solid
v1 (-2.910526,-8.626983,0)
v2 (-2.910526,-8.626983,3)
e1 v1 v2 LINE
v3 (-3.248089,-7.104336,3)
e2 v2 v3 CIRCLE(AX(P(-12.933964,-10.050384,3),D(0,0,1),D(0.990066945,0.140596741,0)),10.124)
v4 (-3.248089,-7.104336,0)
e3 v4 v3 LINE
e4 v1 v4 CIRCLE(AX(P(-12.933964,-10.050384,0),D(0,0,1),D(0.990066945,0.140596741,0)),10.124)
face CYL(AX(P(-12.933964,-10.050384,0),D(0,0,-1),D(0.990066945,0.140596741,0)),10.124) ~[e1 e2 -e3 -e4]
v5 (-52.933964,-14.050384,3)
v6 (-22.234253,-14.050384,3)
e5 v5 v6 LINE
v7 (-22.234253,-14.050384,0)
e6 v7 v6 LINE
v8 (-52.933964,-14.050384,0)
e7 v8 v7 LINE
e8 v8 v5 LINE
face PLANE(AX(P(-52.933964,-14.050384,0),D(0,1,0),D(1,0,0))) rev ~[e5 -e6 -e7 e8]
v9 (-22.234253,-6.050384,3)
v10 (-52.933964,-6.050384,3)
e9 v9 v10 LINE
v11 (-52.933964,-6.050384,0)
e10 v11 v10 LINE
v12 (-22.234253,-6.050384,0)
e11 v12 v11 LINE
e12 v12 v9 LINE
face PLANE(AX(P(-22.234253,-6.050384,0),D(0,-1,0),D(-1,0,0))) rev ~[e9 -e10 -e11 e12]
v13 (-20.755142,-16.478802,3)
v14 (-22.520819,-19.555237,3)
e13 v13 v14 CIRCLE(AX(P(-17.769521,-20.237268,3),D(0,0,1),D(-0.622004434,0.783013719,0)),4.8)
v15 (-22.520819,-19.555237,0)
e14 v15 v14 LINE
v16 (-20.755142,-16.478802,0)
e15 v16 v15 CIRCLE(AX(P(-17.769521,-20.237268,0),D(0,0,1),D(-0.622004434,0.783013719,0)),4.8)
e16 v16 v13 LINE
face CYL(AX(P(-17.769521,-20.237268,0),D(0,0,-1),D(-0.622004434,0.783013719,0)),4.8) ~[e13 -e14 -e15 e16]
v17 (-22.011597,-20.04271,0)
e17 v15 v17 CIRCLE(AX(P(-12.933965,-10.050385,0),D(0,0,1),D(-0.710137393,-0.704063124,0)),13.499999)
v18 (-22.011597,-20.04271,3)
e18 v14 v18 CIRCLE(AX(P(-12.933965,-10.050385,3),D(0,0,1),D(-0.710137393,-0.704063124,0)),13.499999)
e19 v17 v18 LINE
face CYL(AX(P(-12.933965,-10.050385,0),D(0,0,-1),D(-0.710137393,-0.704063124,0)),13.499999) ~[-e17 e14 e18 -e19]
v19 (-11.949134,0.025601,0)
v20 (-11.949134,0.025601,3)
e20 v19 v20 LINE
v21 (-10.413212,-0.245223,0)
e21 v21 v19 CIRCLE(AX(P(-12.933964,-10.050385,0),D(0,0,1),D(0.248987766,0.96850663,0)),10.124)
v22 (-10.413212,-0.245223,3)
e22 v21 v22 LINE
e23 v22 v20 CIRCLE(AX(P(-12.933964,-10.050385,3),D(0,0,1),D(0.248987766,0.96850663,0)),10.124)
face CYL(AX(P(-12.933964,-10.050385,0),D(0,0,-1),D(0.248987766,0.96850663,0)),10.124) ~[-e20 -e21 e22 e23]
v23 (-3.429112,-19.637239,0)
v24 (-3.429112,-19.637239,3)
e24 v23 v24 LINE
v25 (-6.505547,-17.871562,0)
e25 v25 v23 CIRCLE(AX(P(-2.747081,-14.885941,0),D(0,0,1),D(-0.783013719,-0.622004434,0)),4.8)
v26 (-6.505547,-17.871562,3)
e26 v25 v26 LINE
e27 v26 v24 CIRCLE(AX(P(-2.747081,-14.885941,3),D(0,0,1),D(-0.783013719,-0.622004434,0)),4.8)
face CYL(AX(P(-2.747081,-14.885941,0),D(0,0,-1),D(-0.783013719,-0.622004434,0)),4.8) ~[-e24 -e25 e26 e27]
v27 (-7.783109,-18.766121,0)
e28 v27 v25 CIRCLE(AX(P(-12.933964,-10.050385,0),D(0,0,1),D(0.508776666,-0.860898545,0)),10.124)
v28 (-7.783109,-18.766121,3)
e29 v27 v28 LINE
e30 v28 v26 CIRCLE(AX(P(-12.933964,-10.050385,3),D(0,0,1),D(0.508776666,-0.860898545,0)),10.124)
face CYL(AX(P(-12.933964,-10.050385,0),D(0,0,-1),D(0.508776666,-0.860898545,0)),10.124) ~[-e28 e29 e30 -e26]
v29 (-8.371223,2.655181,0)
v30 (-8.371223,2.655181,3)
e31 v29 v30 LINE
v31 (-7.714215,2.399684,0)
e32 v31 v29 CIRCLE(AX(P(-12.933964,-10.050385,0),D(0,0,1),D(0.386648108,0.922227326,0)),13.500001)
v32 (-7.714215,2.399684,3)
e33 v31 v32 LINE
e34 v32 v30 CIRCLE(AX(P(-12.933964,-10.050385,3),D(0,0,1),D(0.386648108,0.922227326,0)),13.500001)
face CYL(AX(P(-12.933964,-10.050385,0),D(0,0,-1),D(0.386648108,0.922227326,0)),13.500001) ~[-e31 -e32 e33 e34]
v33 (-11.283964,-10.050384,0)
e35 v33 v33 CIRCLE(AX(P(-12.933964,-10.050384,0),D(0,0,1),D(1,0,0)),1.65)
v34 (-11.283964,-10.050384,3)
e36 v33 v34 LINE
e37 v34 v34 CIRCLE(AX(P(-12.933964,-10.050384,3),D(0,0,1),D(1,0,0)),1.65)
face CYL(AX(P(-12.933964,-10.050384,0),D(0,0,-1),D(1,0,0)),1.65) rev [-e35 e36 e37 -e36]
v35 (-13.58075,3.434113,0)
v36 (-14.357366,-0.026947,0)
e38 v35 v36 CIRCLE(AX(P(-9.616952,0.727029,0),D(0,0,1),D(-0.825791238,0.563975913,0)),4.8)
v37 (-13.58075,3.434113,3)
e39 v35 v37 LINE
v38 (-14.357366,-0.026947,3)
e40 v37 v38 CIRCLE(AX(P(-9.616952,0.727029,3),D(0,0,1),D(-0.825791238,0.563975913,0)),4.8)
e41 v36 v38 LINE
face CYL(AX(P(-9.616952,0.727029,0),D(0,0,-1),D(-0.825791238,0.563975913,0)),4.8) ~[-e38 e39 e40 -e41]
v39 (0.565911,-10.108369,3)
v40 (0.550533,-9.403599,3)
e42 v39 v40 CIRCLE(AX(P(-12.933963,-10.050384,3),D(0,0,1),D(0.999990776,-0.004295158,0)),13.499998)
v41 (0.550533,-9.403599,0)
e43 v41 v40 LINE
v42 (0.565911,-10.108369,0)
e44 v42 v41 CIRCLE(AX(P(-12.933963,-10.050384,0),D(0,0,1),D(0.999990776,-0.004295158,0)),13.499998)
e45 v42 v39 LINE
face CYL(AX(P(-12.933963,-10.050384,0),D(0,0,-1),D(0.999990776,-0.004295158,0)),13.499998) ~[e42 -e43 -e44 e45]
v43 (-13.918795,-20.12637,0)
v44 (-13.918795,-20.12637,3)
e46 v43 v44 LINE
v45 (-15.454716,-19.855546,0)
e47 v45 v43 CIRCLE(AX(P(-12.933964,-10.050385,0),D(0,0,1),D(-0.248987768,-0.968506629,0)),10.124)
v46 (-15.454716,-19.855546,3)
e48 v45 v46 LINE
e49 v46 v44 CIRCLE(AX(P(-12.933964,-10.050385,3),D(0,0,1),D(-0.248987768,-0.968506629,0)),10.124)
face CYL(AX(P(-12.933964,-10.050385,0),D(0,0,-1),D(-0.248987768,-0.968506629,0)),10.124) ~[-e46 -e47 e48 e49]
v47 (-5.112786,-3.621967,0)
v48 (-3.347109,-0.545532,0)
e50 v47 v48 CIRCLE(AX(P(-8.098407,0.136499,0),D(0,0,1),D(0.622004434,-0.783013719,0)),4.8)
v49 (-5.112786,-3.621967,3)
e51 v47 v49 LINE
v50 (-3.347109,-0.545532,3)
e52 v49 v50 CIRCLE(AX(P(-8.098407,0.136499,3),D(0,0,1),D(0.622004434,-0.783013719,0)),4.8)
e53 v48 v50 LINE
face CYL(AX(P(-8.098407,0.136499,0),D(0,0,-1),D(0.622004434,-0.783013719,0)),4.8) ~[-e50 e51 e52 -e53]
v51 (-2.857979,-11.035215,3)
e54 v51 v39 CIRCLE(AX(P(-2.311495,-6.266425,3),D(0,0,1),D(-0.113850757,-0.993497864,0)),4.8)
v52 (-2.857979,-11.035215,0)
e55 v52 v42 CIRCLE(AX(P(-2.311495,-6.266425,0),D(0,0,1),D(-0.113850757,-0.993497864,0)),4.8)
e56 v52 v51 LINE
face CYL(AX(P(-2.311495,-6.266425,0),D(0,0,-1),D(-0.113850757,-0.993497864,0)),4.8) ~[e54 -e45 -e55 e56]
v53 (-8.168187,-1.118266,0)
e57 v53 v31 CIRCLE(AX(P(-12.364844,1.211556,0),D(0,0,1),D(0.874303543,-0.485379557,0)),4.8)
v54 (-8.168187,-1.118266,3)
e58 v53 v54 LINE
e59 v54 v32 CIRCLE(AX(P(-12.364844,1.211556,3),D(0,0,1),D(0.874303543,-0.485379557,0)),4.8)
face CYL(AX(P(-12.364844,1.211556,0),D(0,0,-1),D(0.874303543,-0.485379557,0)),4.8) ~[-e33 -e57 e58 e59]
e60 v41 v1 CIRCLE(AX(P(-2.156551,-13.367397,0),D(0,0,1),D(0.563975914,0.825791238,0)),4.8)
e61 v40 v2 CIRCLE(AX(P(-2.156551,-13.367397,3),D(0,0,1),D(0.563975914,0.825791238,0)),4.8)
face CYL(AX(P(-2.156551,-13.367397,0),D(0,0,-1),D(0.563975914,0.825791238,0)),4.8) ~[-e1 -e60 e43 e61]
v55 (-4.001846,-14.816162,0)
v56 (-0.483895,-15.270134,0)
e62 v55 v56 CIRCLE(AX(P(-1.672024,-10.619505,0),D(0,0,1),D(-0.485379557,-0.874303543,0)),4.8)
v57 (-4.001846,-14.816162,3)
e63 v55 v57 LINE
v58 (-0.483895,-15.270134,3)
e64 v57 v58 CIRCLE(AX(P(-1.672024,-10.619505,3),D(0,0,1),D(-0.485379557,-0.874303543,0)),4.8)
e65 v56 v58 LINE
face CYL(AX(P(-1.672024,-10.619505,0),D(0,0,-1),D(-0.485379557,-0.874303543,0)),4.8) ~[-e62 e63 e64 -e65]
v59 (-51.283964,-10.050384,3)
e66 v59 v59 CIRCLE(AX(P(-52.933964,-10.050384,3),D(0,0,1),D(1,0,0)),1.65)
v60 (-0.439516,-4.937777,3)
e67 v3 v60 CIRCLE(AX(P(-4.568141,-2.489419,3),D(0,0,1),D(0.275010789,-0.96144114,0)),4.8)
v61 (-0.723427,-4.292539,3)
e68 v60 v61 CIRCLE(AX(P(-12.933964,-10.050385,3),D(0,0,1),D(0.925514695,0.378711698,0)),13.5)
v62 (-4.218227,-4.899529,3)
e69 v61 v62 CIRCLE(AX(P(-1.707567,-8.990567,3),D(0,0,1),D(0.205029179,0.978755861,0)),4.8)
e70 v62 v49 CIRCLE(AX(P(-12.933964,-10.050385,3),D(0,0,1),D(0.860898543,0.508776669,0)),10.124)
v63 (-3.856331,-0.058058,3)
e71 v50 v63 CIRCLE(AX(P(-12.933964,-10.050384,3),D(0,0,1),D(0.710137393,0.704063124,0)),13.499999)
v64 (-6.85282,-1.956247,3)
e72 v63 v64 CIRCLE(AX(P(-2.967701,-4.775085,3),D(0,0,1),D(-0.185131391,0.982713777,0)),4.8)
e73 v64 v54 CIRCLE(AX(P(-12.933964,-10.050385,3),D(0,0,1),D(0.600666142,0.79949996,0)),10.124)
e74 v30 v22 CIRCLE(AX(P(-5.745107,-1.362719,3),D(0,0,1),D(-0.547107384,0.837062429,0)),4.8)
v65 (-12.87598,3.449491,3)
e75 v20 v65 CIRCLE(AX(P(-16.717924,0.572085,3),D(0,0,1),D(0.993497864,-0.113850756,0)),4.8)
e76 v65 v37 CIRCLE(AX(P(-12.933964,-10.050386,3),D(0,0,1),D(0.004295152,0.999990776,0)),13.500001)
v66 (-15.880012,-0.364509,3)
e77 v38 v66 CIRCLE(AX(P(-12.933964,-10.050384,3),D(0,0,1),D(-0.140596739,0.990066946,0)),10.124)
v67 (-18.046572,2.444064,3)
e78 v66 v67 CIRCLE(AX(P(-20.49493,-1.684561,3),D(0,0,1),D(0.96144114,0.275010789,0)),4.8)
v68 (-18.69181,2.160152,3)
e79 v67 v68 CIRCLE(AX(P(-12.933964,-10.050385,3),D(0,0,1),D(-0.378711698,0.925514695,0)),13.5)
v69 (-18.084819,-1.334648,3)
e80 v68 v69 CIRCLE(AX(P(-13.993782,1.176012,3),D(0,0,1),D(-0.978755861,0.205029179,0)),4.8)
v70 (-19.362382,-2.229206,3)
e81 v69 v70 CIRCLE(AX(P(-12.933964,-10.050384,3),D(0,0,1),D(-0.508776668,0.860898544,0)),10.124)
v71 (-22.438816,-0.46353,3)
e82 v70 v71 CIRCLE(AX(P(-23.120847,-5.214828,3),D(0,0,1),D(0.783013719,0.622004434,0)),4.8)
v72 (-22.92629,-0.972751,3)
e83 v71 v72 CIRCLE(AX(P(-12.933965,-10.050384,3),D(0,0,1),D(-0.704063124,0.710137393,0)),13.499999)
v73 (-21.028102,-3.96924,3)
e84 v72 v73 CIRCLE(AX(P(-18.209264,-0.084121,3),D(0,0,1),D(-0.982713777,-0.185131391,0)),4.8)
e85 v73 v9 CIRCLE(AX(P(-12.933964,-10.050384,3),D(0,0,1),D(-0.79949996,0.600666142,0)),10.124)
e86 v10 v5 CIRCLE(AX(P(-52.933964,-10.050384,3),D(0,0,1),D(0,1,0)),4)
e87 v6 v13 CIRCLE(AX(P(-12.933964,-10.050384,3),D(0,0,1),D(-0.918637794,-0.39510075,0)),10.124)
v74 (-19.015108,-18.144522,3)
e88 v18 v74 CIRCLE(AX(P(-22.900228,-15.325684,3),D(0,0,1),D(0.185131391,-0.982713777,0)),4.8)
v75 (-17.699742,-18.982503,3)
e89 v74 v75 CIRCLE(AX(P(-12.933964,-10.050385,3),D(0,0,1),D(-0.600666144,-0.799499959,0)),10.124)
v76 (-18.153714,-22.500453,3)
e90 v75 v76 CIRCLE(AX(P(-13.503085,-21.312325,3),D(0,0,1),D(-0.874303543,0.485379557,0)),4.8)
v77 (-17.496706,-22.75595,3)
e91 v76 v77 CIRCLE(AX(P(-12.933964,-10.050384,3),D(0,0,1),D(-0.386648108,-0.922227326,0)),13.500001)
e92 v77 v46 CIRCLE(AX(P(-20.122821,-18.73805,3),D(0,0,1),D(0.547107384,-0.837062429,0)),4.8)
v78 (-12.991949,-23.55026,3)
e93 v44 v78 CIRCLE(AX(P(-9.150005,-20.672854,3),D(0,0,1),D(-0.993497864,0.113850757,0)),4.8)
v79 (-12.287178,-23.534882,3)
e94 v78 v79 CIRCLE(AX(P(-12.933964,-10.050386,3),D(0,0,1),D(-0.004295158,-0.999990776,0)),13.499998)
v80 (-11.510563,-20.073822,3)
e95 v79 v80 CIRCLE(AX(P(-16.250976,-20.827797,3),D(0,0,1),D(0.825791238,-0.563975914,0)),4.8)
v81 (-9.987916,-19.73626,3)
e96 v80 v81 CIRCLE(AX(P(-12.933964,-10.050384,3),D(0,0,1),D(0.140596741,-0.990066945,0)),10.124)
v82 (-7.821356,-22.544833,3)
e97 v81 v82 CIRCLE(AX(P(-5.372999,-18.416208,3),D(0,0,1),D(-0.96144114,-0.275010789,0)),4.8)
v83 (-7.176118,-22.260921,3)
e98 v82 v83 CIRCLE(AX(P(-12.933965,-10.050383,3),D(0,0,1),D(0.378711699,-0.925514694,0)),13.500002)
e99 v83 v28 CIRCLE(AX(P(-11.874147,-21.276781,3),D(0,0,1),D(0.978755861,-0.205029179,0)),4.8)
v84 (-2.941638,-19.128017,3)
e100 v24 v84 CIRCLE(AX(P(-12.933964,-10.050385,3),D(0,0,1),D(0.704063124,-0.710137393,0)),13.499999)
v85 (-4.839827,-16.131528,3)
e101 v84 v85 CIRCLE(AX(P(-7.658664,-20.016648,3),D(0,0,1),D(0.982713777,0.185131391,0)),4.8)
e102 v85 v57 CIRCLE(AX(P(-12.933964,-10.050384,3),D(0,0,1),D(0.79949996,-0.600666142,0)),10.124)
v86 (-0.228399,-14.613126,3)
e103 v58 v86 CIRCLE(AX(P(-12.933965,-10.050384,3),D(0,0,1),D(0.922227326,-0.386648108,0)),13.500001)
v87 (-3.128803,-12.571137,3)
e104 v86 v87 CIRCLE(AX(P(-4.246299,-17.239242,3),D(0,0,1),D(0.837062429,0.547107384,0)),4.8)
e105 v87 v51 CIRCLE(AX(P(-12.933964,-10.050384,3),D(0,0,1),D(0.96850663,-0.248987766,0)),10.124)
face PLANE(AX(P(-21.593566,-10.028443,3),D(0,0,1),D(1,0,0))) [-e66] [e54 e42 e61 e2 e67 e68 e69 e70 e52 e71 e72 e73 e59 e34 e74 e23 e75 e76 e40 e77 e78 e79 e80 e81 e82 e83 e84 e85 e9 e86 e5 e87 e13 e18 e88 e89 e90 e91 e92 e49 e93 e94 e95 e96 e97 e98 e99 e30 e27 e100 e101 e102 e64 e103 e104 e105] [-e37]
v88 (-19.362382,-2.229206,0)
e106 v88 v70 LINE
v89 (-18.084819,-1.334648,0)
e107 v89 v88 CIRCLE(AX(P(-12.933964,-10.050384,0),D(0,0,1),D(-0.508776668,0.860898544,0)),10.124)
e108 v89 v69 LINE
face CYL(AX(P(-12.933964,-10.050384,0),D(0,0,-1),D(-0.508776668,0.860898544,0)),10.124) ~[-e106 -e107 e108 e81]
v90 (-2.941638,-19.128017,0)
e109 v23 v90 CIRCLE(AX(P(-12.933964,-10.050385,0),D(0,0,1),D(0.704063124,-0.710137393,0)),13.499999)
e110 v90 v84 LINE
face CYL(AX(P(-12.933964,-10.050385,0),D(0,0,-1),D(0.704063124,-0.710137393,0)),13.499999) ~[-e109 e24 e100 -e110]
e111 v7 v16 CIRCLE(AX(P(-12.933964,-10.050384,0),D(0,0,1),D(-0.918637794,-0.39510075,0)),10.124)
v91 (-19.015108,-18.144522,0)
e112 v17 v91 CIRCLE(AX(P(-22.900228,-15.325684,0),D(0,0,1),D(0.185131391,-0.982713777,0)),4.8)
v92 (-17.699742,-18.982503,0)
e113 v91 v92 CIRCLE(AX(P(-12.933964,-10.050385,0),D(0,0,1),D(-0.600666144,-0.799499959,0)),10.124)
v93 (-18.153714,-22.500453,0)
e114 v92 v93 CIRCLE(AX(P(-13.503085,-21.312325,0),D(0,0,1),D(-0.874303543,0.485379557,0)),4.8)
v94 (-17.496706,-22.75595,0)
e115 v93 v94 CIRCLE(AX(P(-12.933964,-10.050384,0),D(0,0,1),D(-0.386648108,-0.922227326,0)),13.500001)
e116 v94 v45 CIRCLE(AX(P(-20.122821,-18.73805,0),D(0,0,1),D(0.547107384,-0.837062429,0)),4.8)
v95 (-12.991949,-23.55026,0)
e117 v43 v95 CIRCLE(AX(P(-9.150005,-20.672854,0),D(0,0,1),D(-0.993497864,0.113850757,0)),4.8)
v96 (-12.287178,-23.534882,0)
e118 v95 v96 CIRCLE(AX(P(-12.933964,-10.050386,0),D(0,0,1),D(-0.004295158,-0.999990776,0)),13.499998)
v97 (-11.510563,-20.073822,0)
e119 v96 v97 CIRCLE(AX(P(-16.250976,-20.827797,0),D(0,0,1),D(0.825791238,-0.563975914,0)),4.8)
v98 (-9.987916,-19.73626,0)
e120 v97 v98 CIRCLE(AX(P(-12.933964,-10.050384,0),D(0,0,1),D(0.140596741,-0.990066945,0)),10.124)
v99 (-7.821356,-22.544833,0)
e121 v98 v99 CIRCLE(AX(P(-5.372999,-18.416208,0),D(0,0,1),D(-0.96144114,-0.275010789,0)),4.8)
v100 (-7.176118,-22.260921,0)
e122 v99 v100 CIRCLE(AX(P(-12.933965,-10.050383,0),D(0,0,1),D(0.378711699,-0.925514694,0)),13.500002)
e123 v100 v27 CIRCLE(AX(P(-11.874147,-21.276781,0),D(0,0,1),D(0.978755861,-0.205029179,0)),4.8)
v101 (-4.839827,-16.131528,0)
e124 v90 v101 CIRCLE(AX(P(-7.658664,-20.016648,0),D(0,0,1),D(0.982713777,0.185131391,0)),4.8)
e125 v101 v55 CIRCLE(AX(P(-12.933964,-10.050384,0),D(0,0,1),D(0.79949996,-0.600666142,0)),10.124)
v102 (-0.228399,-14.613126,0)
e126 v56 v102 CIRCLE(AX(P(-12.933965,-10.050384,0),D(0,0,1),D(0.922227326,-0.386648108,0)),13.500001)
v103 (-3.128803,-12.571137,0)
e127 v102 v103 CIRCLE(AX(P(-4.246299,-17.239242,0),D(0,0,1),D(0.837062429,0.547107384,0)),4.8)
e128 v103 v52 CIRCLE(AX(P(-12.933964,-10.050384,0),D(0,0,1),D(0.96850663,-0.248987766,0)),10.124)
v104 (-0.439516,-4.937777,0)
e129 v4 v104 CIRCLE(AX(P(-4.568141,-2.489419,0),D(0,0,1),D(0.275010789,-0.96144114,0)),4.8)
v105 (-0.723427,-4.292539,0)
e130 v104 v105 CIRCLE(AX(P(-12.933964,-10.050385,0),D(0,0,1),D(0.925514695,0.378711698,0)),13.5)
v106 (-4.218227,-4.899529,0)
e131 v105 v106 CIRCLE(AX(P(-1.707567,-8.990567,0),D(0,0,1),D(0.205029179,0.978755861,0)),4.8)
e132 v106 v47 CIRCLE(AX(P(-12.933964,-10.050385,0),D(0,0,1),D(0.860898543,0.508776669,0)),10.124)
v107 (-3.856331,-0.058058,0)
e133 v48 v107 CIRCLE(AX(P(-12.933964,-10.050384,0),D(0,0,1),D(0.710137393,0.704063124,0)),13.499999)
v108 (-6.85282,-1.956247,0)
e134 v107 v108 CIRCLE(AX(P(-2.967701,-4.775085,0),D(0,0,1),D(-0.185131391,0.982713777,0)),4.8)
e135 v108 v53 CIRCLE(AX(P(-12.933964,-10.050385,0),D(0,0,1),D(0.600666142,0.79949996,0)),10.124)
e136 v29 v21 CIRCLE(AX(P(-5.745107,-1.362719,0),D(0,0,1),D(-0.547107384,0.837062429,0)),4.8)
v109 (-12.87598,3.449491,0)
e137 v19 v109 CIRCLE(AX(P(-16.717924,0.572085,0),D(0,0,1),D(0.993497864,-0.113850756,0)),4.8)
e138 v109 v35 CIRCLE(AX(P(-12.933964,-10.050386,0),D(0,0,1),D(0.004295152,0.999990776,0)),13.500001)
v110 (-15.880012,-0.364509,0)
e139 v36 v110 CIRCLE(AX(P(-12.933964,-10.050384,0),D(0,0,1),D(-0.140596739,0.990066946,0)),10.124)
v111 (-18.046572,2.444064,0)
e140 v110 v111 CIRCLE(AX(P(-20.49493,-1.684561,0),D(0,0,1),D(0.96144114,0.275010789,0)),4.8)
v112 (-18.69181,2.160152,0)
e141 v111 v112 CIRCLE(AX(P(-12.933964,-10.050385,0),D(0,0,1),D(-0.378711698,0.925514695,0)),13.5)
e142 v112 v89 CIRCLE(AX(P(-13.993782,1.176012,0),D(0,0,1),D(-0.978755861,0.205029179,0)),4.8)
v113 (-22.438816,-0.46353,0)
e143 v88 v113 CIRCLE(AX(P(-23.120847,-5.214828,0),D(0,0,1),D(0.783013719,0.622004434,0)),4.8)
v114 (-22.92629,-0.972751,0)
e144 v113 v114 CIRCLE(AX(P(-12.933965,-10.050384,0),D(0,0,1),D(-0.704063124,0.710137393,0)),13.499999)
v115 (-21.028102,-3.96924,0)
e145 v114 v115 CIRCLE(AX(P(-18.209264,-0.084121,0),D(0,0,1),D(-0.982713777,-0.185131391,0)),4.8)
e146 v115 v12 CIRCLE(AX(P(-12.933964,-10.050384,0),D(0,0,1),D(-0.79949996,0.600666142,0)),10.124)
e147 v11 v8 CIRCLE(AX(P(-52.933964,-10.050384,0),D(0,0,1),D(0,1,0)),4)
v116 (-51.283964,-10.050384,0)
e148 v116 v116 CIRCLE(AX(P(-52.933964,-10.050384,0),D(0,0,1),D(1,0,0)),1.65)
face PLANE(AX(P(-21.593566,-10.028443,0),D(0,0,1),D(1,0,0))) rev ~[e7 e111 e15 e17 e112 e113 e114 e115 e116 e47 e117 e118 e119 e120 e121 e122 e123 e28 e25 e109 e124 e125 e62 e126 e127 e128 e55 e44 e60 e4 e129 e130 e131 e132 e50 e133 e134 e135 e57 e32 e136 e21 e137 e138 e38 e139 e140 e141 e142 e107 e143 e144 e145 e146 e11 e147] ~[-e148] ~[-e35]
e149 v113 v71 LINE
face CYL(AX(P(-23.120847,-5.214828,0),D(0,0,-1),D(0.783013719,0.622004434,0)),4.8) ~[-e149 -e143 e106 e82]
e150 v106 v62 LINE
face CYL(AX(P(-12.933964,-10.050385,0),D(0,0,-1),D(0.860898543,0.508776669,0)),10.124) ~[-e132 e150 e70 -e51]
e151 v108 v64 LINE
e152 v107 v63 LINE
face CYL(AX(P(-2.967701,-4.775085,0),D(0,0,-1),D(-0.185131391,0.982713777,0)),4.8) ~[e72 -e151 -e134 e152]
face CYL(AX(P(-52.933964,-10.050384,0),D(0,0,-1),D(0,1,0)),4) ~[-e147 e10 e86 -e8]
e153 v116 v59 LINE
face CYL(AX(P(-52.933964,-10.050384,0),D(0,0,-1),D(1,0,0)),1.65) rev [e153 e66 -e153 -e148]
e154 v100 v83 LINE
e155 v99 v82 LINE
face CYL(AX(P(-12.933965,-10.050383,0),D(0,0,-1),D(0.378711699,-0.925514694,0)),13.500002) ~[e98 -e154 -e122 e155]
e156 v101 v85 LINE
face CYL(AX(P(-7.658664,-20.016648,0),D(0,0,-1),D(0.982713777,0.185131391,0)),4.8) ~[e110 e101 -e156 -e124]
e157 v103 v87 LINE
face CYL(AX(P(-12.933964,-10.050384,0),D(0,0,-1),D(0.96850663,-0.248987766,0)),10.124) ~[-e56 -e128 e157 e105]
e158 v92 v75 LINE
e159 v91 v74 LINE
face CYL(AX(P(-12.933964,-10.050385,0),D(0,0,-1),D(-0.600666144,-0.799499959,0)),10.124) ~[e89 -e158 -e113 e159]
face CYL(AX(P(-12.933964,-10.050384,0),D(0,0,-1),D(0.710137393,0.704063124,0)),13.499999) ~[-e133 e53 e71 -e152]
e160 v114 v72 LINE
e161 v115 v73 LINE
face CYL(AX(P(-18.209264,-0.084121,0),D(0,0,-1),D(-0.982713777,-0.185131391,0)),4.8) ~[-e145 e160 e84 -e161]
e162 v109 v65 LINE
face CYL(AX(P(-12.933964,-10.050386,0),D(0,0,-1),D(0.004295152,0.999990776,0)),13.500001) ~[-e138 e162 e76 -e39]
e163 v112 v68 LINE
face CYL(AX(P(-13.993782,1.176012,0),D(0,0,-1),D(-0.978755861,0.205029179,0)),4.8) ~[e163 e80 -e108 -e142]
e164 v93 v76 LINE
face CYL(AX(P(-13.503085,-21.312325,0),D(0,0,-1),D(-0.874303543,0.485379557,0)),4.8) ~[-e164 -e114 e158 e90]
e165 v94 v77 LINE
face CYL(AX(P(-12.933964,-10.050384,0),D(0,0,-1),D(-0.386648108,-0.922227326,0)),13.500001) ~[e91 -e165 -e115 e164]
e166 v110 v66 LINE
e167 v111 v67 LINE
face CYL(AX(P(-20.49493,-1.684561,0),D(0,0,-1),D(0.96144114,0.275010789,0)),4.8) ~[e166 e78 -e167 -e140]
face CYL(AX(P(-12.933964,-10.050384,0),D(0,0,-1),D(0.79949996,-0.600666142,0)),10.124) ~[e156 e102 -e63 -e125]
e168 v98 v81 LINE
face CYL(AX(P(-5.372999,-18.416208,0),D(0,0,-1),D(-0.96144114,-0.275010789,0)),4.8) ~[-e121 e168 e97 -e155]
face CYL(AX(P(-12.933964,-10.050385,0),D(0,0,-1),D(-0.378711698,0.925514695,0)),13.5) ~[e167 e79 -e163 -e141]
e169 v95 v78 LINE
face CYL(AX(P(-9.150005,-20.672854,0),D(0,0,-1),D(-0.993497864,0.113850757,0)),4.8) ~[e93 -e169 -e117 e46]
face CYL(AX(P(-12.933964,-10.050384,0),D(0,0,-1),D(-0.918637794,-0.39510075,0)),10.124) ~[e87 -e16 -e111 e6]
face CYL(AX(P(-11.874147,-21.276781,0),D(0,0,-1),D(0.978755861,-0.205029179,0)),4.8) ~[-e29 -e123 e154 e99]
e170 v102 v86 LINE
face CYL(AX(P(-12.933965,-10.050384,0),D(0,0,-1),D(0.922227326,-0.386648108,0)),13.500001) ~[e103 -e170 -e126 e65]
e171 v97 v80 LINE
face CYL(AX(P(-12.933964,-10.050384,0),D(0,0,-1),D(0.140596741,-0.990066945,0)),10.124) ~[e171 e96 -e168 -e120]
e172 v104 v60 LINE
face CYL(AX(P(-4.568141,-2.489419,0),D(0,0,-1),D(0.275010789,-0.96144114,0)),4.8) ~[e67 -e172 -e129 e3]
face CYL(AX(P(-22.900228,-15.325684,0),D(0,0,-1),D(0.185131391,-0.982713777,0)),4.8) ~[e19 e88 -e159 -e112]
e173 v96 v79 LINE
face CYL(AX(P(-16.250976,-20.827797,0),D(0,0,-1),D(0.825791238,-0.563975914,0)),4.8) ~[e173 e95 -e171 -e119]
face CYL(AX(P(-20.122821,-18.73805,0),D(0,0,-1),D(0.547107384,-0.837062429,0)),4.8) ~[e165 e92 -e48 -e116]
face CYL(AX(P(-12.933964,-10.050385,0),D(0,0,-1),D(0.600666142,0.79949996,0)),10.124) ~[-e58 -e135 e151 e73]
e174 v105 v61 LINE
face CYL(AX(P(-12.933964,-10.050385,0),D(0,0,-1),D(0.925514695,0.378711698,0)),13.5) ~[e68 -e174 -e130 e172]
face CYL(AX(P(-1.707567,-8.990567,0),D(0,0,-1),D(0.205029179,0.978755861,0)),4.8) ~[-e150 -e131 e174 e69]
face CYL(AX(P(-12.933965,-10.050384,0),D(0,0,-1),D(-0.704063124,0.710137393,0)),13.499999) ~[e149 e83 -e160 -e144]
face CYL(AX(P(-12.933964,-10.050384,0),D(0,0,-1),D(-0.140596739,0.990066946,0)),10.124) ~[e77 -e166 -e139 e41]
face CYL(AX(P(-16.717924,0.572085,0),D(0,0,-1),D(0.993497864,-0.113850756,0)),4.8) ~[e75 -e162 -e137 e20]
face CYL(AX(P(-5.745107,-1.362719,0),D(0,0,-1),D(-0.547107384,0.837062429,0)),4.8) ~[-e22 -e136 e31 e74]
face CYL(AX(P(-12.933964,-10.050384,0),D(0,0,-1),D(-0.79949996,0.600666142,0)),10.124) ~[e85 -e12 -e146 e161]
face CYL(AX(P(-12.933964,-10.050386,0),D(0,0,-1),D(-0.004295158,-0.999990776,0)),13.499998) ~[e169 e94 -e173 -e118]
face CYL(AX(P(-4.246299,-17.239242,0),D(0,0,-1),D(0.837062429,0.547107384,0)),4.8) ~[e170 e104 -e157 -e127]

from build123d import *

# Parameters (mm, degrees)
SKETCH1_R           = 1.65
BOSS_EXTRUDE1_DEPTH = 3


with BuildPart() as part:
    # Sketch1 → Boss-Extrude1 (new body)
    with BuildSketch(Plane.XY):
        with BuildLine():
            ThreePointArc((-20.755142163, -16.478801884), (-21.932583818, -17.847935828), (-22.52081897, -19.555236625))
            ThreePointArc((-22.52081897, -19.555236625), (-22.269390429, -19.802297923), (-22.01159712, -20.042710497))
            ThreePointArc((-22.01159712, -20.042710497), (-20.331579752, -19.3805638), (-19.015108204, -18.144522024))
            ThreePointArc((-19.015108204, -18.144522024), (-18.373585411, -18.588879433), (-17.699741584, -18.98250298))
            ThreePointArc((-17.699741584, -18.98250298), (-18.263610953, -20.698005222), (-18.153713641, -22.500453331))
            ThreePointArc((-18.153713641, -22.500453331), (-17.826877693, -22.63249067), (-17.496705822, -22.755949699))
            ThreePointArc((-17.496705822, -22.755949699), (-16.197964732, -21.501291105), (-15.454716323, -19.855545556))
            ThreePointArc((-15.454716323, -19.855545556), (-14.691978327, -20.020578127), (-13.918794597, -20.126369997))
            ThreePointArc((-13.918794597, -20.126369997), (-13.78324768, -21.927070872), (-12.991948773, -23.550259908))
            ThreePointArc((-12.991948773, -23.550259908), (-12.639463228, -23.547171801), (-12.287178469, -23.534881765))
            ThreePointArc((-12.287178469, -23.534881765), (-11.567435216, -21.878721672), (-11.510562778, -20.073822192))
            ThreePointArc((-11.510562778, -20.073822192), (-10.742729525, -19.934405211), (-9.987916106, -19.736259551))
            ThreePointArc((-9.987916106, -19.736259551), (-9.173588692, -21.348018674), (-7.821356276, -22.544832821))
            ThreePointArc((-7.821356276, -22.544832821), (-7.496883863, -22.407089403), (-7.176118378, -22.260921351))
            ThreePointArc((-7.176118378, -22.260921351), (-7.144947346, -20.455395119), (-7.783109193, -18.766121291))
            ThreePointArc((-7.783109193, -18.766121291), (-7.127076334, -18.343479732), (-6.505546727, -17.871562422))
            ThreePointArc((-6.505546727, -17.871562422), (-5.136412783, -19.049004077), (-3.429111986, -19.637239229))
            ThreePointArc((-3.429111986, -19.637239229), (-3.182050688, -19.385810688), (-2.941638114, -19.128017379))
            ThreePointArc((-2.941638114, -19.128017379), (-3.603784812, -17.448000011), (-4.839826587, -16.131528463))
            ThreePointArc((-4.839826587, -16.131528463), (-4.395469179, -15.49000567), (-4.001845631, -14.816161843))
            ThreePointArc((-4.001845631, -14.816161843), (-2.286343389, -15.380031212), (-0.48389528, -15.2701339))
            ThreePointArc((-0.48389528, -15.2701339), (-0.351857941, -14.943297952), (-0.228398912, -14.613126081))
            ThreePointArc((-0.228398912, -14.613126081), (-1.483057507, -13.314384991), (-3.128803055, -12.571136582))
            ThreePointArc((-3.128803055, -12.571136582), (-2.963770485, -11.808398586), (-2.857978614, -11.035214856))
            ThreePointArc((-2.857978614, -11.035214856), (-1.05727774, -10.899667939), (0.565911297, -10.108369033))
            ThreePointArc((0.565911297, -10.108369033), (0.56282319, -9.755883487), (0.550533154, -9.403598729))
            ThreePointArc((0.550533154, -9.403598729), (-1.105626939, -8.683855475), (-2.910526419, -8.626983037))
            ThreePointArc((-2.910526419, -8.626983037), (-3.0499434, -7.859149784), (-3.24808906, -7.104336365))
            ThreePointArc((-3.24808906, -7.104336365), (-1.636329937, -6.290008951), (-0.43951579, -4.937776535))
            ThreePointArc((-0.43951579, -4.937776535), (-0.577259208, -4.613304122), (-0.723427261, -4.292538637))
            ThreePointArc((-0.723427261, -4.292538637), (-2.528953492, -4.261367605), (-4.21822732, -4.899529452))
            ThreePointArc((-4.21822732, -4.899529452), (-4.64086888, -4.243496594), (-5.112786189, -3.621966986))
            ThreePointArc((-5.112786189, -3.621966986), (-3.935344534, -2.252833042), (-3.347109382, -0.545532245))
            ThreePointArc((-3.347109382, -0.545532245), (-3.598537923, -0.298470947), (-3.856331232, -0.058058373))
            ThreePointArc((-3.856331232, -0.058058373), (-5.5363486, -0.720205071), (-6.852820148, -1.956246846))
            ThreePointArc((-6.852820148, -1.956246846), (-7.494342941, -1.511889438), (-8.168186768, -1.11826589))
            ThreePointArc((-8.168186768, -1.11826589), (-7.604317399, 0.597236351), (-7.714214711, 2.399684461))
            ThreePointArc((-7.714214711, 2.399684461), (-8.041050659, 2.5317218), (-8.37122253, 2.655180829))
            ThreePointArc((-8.37122253, 2.655180829), (-9.66996362, 1.400522234), (-10.413212029, -0.245223314))
            ThreePointArc((-10.413212029, -0.245223314), (-11.175950025, -0.080190744), (-11.949133755, 0.025601127))
            ThreePointArc((-11.949133755, 0.025601127), (-12.084680673, 1.826302001), (-12.875979579, 3.449491038))
            ThreePointArc((-12.875979579, 3.449491038), (-13.228465124, 3.44640293), (-13.580749883, 3.434112895))
            ThreePointArc((-13.580749883, 3.434112895), (-14.300493136, 1.777952801), (-14.357365574, -0.026946679))
            ThreePointArc((-14.357365574, -0.026946679), (-15.125198828, -0.166363659), (-15.880012246, -0.364509319))
            ThreePointArc((-15.880012246, -0.364509319), (-16.69433966, 1.247249804), (-18.046572076, 2.444063951))
            ThreePointArc((-18.046572076, 2.444063951), (-18.371044489, 2.306320533), (-18.691809974, 2.16015248))
            ThreePointArc((-18.691809974, 2.16015248), (-18.722981006, 0.354626248), (-18.084819159, -1.334647579))
            ThreePointArc((-18.084819159, -1.334647579), (-18.740852018, -1.757289139), (-19.362381625, -2.229206448))
            ThreePointArc((-19.362381625, -2.229206448), (-20.731515569, -1.051764793), (-22.438816366, -0.463529641))
            ThreePointArc((-22.438816366, -0.463529641), (-22.685877664, -0.714958182), (-22.926290238, -0.972751491))
            ThreePointArc((-22.926290238, -0.972751491), (-22.264143541, -2.652768859), (-21.028101765, -3.969240407))
            ThreePointArc((-21.028101765, -3.969240407), (-21.69320555, -4.973863328), (-22.234253204, -6.050384435))
            Line((-22.234253204, -6.050384435), (-52.933964176, -6.050384435))
            ThreePointArc((-52.933964176, -6.050384435), (-56.933964176, -10.050384435), (-52.933964176, -14.050384435))
            Line((-52.933964176, -14.050384435), (-22.234253204, -14.050384435))
            ThreePointArc((-22.234253204, -14.050384435), (-21.580377364, -15.316779311), (-20.755142163, -16.478801884))
        make_face()
        with Locations((-12.933964176, -10.050384435)):
            Circle(SKETCH1_R, mode=Mode.SUBTRACT)
        with Locations((-52.933964176, -10.050384435)):
            Circle(SKETCH1_R, mode=Mode.SUBTRACT)
    extrude(amount=BOSS_EXTRUDE1_DEPTH)


solid = part.part
